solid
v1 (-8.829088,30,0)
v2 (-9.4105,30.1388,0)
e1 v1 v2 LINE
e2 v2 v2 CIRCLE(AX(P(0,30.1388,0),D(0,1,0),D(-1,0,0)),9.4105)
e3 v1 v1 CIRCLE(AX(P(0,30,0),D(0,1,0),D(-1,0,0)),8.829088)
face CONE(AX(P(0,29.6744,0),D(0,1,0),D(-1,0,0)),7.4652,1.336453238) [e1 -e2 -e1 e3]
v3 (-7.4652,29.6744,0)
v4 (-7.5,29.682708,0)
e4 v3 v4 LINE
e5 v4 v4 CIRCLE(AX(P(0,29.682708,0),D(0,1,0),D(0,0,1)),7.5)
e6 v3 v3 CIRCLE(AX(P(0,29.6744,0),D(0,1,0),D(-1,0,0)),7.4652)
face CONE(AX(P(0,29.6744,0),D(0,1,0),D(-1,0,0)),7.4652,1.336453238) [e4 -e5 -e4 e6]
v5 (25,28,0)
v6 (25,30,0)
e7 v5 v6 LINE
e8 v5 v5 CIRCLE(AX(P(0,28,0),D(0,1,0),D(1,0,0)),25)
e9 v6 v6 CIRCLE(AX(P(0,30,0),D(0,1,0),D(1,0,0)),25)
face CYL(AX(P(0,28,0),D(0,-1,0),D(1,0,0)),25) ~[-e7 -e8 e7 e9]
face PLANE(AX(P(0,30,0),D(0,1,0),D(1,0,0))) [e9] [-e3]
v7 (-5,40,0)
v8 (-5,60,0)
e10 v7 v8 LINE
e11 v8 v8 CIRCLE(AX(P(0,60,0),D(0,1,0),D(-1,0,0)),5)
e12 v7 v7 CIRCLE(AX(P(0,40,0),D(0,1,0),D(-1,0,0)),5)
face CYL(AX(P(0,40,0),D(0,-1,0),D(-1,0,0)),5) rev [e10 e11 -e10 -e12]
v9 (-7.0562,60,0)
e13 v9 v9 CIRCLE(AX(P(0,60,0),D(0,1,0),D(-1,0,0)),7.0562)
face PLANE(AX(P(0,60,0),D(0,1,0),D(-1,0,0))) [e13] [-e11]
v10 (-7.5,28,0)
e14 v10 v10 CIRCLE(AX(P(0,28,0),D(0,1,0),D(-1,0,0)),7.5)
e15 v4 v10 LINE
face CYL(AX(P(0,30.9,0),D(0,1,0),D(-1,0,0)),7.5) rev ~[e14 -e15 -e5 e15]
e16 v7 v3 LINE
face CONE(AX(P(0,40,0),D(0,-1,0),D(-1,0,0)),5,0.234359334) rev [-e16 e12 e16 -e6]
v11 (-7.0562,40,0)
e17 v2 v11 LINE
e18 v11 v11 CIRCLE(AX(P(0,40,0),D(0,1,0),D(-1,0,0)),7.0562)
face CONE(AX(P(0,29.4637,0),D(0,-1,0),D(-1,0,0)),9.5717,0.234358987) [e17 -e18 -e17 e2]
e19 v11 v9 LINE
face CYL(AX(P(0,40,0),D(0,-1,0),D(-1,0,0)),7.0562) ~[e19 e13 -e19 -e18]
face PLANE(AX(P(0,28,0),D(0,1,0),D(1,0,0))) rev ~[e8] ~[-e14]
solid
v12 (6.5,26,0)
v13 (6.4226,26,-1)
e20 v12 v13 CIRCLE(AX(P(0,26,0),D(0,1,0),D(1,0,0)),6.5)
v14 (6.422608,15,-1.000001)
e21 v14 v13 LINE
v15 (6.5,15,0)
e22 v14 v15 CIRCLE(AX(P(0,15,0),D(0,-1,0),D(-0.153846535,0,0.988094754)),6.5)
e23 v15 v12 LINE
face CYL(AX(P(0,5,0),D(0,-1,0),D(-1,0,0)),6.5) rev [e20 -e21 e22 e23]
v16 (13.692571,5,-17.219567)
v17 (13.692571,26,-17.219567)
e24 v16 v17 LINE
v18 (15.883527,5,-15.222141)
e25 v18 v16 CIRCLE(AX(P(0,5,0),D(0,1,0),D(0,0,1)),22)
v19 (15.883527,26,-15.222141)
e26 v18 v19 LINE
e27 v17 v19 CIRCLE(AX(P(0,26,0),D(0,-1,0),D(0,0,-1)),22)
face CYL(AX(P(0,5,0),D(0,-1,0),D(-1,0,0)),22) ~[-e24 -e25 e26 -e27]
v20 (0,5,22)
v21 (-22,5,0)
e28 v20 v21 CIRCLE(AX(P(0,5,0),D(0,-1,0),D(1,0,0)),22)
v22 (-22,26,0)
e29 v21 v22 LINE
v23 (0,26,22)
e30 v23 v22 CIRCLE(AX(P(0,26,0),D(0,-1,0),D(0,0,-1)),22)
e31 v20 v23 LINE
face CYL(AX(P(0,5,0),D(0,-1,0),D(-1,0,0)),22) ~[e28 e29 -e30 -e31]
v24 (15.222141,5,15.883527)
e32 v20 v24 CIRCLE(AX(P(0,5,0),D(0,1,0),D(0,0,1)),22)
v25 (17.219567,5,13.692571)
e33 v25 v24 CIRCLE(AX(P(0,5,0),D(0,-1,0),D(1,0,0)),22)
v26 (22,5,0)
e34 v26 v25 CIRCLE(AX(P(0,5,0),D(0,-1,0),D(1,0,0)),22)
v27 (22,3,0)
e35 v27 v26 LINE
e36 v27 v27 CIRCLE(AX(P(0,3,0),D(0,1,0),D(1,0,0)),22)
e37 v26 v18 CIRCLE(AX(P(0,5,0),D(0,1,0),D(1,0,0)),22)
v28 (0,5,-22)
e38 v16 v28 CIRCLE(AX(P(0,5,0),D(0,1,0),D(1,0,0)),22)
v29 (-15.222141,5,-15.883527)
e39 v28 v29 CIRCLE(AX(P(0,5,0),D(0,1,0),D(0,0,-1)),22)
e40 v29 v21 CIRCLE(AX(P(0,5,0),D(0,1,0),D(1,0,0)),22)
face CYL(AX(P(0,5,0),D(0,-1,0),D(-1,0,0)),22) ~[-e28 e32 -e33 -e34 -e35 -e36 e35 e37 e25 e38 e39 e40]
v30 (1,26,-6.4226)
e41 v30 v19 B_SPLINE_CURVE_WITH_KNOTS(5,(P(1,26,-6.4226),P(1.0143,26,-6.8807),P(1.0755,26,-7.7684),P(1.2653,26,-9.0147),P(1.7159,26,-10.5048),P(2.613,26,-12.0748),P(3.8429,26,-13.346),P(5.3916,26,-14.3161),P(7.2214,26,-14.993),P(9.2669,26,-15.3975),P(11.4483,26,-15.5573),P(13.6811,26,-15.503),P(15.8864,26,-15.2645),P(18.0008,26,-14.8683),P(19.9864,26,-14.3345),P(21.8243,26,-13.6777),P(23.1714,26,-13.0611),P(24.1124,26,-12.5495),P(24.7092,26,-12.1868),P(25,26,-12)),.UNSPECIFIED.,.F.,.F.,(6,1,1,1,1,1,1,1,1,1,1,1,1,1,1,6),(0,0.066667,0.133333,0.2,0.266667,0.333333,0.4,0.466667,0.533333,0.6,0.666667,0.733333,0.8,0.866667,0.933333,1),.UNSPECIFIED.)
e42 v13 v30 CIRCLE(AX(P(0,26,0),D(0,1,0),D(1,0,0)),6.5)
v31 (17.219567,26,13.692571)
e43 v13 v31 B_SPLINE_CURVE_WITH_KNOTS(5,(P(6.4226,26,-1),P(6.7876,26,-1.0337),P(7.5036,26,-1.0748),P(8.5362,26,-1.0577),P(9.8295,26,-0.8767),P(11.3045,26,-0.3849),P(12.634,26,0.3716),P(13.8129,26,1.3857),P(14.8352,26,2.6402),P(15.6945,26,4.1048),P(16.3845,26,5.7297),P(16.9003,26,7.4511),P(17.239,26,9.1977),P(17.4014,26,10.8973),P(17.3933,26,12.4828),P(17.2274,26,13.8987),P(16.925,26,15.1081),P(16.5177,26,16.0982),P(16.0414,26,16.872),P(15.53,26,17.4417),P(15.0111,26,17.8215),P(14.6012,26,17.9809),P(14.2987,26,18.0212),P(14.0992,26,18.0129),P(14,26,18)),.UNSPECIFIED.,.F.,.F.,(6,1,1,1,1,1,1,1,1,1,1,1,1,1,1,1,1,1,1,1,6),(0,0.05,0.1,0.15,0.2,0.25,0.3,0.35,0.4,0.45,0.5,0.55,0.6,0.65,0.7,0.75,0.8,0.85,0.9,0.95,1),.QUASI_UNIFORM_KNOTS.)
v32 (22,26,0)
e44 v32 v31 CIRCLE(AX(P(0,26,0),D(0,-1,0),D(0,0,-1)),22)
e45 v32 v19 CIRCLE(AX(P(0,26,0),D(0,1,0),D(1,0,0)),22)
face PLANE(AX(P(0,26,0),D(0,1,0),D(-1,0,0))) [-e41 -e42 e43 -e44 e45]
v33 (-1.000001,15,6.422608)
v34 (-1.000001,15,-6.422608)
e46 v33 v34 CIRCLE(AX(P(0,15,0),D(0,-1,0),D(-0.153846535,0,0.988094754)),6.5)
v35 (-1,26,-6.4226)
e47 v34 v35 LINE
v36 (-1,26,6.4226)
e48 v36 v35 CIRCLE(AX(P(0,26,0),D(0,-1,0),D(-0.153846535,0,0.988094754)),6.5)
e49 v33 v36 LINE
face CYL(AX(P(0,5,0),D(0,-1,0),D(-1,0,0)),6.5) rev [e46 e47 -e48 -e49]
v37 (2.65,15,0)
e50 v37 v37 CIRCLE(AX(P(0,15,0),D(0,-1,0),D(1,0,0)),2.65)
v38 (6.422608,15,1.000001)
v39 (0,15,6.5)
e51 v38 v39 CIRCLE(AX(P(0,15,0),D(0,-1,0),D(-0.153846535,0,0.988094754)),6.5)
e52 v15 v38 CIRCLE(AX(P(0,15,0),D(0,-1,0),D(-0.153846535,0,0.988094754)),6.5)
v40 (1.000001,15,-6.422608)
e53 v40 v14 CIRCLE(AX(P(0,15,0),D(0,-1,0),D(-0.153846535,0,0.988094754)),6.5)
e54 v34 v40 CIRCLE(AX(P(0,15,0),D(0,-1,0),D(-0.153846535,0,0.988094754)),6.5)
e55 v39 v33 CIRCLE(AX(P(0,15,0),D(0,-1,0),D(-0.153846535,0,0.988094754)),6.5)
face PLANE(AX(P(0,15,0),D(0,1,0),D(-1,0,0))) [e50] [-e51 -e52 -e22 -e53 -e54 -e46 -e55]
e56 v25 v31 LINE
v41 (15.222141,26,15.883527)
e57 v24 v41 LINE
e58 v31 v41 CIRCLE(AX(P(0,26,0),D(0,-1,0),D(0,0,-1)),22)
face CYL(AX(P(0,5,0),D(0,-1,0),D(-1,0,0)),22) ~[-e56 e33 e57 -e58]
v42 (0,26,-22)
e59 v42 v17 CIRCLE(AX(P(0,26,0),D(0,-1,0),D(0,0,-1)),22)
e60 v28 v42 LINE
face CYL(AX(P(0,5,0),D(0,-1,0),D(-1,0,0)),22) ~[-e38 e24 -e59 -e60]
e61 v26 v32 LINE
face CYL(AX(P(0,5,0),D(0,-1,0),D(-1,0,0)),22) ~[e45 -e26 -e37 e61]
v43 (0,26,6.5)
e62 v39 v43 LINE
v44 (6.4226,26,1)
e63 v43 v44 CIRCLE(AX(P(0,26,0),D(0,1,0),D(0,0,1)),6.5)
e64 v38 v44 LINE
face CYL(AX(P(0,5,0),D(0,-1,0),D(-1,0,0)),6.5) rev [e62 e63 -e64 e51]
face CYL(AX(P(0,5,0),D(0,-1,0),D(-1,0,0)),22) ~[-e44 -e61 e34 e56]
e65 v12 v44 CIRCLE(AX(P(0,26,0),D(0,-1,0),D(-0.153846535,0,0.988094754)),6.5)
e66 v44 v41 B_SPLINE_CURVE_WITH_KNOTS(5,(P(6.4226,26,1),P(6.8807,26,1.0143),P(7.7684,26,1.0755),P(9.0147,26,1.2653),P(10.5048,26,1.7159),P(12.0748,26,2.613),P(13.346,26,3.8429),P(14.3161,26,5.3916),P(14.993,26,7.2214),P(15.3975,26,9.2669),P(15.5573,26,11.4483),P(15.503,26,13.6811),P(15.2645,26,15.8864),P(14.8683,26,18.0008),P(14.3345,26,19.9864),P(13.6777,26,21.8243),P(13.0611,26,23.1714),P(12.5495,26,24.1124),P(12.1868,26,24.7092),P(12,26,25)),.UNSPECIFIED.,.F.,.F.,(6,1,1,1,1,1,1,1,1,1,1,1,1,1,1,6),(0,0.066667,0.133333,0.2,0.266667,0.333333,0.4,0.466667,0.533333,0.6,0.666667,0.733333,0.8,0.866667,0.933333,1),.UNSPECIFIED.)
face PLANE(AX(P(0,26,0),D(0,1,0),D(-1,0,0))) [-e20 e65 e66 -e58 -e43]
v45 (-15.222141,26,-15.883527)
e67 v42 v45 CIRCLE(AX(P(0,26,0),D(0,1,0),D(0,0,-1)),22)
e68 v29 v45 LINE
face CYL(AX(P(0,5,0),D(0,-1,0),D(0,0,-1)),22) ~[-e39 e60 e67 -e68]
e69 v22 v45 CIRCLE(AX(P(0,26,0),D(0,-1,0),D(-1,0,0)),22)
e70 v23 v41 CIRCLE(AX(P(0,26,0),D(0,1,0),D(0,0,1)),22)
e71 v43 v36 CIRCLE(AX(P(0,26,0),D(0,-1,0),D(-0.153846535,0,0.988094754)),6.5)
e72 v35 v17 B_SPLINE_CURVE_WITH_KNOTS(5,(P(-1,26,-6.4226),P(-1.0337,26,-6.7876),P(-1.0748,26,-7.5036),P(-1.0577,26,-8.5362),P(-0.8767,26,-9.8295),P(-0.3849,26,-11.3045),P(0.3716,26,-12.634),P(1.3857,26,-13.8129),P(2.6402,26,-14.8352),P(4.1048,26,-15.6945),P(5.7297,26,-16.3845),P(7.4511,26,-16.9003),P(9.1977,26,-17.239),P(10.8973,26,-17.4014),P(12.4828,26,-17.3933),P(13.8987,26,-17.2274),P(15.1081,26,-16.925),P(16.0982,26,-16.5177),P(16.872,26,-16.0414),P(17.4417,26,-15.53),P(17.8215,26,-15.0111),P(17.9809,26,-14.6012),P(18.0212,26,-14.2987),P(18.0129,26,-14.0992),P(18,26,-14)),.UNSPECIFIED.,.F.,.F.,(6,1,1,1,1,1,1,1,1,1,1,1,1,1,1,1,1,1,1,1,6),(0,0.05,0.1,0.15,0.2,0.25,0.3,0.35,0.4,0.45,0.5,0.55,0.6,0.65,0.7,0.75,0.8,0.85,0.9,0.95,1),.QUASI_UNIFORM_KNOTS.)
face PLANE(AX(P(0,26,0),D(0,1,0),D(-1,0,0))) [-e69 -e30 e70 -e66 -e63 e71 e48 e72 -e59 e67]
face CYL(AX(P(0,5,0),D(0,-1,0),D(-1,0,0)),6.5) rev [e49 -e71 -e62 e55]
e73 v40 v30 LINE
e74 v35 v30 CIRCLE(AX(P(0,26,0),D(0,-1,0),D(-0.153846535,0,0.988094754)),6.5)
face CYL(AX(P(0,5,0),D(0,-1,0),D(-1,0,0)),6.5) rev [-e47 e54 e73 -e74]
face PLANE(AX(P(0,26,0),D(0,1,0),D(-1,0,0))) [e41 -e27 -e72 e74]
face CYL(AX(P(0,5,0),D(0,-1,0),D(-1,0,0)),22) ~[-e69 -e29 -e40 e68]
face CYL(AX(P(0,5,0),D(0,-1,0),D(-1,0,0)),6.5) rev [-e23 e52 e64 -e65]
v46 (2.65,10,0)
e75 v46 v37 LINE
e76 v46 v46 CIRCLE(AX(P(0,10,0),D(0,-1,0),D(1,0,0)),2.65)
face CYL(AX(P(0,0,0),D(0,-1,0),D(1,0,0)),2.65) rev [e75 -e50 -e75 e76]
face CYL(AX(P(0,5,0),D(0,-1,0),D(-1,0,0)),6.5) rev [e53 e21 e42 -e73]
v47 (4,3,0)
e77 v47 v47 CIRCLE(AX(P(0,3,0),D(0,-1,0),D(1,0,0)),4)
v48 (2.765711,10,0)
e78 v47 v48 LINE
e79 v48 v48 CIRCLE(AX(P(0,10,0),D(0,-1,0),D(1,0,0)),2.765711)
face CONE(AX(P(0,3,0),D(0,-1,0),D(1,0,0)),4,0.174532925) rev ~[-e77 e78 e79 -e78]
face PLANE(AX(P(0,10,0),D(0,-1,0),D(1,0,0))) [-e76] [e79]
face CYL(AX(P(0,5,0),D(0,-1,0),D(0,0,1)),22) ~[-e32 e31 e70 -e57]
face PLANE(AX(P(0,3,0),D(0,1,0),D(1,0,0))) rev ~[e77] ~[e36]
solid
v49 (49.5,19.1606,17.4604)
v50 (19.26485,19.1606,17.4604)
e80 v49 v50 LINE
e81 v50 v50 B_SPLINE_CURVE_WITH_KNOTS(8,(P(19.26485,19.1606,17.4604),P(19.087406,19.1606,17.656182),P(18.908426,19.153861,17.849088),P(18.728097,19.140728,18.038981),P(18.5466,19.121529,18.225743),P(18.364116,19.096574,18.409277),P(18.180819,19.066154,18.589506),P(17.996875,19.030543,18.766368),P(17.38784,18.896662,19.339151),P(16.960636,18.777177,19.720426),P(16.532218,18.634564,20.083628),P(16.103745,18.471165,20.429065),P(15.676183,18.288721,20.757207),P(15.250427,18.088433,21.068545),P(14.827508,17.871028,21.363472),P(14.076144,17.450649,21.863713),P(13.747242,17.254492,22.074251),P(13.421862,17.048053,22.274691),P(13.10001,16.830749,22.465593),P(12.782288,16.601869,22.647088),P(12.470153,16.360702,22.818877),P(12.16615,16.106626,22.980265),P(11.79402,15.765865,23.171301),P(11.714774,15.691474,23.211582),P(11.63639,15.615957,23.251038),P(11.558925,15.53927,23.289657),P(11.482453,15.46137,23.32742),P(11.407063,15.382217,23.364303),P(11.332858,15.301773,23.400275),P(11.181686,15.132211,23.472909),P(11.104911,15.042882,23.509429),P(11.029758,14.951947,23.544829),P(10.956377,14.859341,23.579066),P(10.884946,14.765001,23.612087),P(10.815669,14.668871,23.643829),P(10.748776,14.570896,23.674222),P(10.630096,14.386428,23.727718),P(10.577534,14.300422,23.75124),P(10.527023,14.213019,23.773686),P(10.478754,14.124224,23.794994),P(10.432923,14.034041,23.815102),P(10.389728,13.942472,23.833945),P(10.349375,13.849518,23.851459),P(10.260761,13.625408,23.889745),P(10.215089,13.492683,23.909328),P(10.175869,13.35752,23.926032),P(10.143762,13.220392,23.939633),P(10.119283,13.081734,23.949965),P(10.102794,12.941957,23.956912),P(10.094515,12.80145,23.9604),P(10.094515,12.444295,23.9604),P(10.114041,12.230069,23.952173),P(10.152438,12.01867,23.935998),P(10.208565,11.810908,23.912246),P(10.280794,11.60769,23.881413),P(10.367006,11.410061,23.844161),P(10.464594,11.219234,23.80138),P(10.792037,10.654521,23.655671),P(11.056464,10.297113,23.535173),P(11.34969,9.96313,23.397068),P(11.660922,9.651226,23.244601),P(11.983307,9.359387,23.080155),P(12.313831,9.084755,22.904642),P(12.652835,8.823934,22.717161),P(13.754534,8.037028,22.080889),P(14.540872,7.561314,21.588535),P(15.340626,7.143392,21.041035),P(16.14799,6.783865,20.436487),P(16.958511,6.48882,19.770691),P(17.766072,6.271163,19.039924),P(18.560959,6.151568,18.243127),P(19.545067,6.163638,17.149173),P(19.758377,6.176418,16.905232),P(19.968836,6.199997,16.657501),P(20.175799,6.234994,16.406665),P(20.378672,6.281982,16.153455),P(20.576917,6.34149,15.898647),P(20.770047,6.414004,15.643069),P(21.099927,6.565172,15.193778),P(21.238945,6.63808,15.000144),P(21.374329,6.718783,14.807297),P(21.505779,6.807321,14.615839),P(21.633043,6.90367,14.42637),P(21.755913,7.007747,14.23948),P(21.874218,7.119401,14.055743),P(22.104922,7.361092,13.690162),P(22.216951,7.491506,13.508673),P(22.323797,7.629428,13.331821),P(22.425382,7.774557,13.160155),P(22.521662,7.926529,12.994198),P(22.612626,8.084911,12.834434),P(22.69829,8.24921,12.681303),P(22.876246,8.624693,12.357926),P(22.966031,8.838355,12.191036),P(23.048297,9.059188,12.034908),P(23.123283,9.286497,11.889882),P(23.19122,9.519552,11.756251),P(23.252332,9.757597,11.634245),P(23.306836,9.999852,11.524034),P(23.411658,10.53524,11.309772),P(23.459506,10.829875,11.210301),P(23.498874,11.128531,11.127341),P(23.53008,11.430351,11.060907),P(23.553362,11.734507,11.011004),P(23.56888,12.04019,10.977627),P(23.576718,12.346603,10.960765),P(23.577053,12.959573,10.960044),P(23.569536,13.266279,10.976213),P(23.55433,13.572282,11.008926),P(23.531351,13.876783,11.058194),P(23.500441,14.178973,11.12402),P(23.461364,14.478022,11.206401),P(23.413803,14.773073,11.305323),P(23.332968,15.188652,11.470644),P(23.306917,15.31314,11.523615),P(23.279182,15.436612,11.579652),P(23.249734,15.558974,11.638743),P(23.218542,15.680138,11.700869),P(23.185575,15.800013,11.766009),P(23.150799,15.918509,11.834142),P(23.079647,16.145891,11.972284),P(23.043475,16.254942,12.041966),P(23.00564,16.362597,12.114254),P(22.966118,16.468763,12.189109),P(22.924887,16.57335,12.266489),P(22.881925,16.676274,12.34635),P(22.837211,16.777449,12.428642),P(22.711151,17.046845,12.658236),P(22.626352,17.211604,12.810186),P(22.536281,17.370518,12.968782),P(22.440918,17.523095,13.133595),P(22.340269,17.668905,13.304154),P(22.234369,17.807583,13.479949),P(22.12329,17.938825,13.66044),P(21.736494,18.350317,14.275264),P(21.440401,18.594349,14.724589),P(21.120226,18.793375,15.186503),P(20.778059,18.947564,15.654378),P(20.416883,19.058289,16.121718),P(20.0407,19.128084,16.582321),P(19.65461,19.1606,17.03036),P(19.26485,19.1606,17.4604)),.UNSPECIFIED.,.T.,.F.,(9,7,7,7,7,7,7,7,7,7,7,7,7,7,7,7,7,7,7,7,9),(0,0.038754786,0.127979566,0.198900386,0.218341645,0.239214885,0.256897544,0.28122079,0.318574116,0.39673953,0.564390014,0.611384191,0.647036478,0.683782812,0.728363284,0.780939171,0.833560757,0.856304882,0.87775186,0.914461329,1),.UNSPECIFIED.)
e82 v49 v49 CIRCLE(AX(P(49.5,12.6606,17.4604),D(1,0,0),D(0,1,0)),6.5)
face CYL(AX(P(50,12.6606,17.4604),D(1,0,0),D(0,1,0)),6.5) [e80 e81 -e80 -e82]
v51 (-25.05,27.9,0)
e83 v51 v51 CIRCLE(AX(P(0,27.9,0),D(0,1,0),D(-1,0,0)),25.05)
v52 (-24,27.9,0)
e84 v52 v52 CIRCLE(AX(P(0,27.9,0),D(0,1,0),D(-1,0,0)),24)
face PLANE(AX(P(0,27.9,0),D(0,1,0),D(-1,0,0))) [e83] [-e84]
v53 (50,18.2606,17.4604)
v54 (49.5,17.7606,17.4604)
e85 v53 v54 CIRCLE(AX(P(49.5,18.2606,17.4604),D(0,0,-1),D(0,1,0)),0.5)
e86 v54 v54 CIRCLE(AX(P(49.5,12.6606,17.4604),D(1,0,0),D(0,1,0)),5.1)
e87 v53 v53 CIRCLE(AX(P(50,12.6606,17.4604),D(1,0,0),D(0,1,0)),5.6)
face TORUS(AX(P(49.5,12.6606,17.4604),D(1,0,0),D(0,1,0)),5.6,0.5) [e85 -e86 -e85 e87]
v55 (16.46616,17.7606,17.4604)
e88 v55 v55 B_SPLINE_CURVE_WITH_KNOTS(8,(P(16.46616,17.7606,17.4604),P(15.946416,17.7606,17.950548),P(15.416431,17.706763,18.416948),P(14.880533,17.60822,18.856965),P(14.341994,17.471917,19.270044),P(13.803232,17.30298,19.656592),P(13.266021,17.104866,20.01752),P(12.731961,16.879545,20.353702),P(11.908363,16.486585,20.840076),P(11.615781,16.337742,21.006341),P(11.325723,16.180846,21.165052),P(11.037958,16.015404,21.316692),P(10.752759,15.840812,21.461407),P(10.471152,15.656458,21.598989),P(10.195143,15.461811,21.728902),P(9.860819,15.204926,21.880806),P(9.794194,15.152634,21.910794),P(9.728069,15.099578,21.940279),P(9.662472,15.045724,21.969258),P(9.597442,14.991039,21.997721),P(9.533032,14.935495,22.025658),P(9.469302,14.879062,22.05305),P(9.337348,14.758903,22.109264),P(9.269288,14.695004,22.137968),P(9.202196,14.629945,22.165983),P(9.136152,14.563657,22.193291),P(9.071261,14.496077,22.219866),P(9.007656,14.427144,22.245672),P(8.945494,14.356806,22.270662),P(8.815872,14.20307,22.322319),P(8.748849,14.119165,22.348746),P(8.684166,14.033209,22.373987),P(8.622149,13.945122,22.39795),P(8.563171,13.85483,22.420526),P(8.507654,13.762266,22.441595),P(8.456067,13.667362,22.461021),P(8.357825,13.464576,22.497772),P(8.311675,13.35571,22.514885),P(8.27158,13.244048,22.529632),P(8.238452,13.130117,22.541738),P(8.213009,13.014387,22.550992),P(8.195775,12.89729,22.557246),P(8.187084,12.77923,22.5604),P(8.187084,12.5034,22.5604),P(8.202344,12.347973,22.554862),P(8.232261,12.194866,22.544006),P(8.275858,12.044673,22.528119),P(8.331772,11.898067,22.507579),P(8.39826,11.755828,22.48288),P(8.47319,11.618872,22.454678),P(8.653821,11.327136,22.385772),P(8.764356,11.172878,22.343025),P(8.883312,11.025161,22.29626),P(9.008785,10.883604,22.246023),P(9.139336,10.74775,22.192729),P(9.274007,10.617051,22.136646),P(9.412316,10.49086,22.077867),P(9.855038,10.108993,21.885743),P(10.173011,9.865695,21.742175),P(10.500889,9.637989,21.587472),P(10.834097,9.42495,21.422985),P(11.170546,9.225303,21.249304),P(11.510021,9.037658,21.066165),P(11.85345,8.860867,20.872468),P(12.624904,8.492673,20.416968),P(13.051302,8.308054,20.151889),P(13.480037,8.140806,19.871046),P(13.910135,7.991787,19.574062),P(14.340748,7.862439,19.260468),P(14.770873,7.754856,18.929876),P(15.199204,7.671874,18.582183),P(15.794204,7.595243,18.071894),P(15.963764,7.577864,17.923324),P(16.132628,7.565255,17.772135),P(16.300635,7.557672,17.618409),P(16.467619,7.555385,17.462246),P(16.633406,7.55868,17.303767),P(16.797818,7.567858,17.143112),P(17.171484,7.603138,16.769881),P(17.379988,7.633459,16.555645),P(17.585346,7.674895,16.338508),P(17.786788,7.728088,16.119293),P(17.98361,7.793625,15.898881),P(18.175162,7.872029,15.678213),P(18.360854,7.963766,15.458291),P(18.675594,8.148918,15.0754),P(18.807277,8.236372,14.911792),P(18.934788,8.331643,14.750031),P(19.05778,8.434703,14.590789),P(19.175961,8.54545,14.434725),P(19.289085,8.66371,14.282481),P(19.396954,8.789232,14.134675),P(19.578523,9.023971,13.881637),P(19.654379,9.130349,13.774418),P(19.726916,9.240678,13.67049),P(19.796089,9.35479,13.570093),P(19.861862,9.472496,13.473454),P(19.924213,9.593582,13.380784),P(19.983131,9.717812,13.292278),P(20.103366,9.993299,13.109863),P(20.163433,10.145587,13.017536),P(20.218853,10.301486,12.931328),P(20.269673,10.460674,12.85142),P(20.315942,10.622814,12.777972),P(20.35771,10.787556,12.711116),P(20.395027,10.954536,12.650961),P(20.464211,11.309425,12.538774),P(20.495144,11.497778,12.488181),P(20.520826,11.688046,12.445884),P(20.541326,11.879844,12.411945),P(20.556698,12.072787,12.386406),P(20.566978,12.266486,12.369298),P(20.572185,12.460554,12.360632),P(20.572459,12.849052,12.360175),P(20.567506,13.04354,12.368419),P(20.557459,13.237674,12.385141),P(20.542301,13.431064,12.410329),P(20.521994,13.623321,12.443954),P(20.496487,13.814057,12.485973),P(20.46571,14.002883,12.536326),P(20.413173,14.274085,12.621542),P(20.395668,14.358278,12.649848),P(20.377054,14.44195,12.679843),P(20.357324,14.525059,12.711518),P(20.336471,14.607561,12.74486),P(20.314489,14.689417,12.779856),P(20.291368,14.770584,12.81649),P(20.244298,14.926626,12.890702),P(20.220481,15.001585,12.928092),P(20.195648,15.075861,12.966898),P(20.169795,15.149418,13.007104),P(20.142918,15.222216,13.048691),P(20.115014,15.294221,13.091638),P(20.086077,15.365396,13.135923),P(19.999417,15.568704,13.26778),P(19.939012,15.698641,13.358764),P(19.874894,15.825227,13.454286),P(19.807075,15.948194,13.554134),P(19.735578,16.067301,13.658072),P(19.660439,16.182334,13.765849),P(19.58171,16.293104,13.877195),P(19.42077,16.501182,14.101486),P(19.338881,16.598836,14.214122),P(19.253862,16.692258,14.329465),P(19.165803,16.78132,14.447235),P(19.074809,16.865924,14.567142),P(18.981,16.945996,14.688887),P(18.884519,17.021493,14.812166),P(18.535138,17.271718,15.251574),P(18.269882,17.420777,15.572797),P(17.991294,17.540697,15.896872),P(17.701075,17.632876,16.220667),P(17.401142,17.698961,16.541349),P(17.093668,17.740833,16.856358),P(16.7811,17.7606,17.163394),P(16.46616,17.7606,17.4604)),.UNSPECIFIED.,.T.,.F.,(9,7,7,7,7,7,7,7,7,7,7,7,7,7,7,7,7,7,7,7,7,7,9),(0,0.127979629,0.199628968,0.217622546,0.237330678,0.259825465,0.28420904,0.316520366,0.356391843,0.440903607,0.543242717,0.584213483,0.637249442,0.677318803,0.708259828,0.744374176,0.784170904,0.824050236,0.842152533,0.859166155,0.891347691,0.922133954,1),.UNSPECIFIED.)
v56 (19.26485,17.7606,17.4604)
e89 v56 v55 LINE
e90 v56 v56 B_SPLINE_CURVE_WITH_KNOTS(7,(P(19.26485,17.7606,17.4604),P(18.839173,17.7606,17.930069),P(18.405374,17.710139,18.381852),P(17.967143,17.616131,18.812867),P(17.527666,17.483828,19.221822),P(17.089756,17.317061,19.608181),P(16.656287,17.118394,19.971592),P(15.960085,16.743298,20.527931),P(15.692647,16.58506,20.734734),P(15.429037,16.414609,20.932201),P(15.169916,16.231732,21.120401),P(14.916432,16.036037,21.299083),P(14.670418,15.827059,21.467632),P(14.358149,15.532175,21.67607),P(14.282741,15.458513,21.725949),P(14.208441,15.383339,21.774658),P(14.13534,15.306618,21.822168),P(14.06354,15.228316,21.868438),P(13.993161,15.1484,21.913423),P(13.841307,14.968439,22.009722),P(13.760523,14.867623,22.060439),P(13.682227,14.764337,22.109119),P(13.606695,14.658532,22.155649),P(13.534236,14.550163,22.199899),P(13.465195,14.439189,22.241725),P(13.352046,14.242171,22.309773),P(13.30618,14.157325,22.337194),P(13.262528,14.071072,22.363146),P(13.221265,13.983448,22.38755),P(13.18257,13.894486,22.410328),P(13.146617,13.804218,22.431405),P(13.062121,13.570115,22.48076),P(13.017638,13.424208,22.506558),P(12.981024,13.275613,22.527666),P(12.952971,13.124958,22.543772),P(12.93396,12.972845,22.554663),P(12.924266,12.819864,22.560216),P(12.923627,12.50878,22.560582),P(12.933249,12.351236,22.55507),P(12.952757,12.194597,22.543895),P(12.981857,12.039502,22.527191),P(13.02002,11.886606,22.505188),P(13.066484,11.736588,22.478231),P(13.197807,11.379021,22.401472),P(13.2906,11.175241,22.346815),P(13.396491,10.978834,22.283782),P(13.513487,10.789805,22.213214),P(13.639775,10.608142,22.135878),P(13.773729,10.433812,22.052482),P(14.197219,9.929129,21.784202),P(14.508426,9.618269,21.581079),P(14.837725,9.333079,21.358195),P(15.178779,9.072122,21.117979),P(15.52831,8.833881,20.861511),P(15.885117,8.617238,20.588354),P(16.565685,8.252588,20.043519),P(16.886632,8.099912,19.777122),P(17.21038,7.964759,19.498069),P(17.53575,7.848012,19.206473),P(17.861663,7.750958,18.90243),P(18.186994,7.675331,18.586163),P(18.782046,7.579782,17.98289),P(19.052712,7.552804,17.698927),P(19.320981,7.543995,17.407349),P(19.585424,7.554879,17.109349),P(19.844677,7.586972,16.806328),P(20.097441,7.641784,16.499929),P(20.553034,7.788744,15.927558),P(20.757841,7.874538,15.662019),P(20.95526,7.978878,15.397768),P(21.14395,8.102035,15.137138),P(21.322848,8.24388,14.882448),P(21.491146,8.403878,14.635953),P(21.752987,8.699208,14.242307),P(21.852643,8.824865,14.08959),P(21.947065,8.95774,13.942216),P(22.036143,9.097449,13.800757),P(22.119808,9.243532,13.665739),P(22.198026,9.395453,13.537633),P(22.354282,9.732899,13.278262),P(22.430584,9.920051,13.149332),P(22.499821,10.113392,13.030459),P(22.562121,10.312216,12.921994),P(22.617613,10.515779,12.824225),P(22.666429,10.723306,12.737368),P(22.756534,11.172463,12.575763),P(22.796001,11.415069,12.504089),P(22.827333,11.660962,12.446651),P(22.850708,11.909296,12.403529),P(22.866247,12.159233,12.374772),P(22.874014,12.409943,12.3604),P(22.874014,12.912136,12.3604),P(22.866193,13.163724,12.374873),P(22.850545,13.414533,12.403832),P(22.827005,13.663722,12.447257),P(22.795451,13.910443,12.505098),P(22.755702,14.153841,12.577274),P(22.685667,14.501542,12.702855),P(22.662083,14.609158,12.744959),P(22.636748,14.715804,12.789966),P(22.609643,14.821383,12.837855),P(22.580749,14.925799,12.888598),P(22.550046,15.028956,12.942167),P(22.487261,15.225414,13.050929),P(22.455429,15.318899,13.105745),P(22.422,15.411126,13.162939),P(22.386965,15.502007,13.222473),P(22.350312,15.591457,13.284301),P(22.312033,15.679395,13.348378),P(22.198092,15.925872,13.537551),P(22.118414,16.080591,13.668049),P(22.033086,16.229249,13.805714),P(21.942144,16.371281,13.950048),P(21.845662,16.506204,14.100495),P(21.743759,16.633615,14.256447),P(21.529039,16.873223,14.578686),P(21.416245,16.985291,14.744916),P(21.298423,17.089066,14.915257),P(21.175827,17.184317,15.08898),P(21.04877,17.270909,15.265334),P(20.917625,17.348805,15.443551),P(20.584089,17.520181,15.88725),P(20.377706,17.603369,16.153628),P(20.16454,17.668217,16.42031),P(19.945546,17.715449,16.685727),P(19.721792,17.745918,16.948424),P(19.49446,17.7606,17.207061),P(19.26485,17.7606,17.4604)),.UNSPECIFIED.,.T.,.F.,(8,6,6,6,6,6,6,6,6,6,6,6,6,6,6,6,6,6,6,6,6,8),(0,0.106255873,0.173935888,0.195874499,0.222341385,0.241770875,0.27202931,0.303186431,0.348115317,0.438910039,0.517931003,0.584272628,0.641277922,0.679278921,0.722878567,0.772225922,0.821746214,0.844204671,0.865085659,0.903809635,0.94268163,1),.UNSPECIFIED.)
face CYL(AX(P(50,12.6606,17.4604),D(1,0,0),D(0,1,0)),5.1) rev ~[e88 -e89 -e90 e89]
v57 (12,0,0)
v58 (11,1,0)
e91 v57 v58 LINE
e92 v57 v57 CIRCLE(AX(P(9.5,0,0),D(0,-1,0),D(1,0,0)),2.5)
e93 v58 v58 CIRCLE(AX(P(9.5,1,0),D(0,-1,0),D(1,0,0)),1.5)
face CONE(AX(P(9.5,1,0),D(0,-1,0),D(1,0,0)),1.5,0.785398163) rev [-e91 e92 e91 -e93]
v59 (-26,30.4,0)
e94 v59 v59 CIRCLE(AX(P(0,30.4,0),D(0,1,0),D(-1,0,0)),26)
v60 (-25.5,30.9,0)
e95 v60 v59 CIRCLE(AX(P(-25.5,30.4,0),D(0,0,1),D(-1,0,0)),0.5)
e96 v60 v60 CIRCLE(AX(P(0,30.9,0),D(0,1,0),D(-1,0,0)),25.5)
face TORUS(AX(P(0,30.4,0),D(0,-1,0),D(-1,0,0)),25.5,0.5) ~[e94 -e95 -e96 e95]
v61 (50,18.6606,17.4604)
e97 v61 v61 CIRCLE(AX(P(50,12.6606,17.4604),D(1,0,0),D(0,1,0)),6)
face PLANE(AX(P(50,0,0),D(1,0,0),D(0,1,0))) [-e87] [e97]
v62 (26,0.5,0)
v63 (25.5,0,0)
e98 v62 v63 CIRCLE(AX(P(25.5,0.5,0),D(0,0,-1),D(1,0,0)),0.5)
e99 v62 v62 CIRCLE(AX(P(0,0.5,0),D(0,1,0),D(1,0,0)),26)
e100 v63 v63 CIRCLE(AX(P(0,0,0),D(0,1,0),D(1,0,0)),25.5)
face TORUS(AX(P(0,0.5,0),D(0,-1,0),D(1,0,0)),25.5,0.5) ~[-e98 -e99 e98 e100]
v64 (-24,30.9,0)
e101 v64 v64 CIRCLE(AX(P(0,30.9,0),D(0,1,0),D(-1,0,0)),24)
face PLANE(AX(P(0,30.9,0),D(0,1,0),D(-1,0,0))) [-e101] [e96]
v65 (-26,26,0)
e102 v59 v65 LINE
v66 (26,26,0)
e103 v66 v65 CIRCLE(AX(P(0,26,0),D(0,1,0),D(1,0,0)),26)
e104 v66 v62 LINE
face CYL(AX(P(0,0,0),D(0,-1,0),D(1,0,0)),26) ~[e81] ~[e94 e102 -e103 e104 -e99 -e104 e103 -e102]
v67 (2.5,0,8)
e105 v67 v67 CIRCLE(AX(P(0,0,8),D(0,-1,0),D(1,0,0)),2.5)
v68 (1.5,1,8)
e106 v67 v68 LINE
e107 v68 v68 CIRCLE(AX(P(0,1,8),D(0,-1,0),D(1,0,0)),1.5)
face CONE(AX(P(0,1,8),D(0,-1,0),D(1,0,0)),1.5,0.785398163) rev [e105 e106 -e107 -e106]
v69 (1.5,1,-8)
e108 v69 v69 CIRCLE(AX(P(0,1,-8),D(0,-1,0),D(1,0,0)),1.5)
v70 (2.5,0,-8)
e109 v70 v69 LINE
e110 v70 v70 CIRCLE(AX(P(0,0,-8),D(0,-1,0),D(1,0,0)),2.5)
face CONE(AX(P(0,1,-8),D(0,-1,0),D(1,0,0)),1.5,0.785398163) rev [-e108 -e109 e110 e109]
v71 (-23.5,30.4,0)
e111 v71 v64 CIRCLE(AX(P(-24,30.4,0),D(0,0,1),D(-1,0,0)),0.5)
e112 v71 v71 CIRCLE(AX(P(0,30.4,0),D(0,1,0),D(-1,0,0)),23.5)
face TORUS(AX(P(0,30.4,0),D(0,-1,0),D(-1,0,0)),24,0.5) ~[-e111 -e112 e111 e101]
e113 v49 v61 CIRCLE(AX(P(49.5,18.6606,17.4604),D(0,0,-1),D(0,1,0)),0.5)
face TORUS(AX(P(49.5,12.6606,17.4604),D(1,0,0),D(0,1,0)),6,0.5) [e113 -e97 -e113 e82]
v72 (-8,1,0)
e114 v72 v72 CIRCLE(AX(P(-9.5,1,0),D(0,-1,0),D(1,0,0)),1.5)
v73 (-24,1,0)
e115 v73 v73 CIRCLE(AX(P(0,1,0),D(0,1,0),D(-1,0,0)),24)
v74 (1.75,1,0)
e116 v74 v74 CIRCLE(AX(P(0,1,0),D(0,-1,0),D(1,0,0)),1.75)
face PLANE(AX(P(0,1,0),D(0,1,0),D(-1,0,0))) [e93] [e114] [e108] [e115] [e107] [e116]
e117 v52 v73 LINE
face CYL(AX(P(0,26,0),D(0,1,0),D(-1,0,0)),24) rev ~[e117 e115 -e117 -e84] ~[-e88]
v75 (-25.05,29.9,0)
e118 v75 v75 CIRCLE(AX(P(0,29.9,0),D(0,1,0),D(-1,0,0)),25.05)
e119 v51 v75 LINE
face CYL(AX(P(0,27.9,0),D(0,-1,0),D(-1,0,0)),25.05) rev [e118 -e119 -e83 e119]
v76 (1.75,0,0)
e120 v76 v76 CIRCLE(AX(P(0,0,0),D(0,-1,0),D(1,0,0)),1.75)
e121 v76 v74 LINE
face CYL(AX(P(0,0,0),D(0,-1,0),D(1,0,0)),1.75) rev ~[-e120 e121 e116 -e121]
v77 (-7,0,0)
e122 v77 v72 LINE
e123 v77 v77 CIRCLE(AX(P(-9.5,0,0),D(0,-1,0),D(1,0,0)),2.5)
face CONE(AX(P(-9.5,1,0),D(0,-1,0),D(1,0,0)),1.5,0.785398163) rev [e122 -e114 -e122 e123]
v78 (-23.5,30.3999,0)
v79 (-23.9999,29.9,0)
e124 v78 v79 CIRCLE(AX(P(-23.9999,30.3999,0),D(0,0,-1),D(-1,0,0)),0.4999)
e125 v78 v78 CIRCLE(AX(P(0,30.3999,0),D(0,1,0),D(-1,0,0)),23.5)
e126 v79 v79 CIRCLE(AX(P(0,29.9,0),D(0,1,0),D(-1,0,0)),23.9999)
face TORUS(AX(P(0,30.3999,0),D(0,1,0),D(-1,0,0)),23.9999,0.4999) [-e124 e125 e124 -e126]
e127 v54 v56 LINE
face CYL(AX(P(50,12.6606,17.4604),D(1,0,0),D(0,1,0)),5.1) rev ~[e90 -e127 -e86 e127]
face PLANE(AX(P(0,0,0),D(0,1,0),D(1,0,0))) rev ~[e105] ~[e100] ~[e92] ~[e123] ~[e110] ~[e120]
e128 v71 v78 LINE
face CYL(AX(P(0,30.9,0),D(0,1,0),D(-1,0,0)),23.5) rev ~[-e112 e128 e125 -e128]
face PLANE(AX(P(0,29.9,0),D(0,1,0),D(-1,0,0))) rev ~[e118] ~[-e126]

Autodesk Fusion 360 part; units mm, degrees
sketch "Sketch1" plane through (0, 0, 0) normal (0, 1, 0) x (1, 0, 0) in component "P1"
  circle A0 centre (0, 0) radius 26
  dimension "d1" = 52
extrude "Extrude1" add sketch "Sketch1" along normal blind 2 makes body 1 in component "P1"
sketch "Sketch2" plane through (0, 0, 0) normal (0, -1, 0) x (1, 0, 0) in component "P1"
  circle A0 centre (0, 0) radius 26
  line L0 (0, 0) -> (9.5, 0) construction
  line L1 (0, 0) -> (0, 8) construction
  circle A1 centre (0, 8) radius 1.5
  circle A2 centre (9.5, 0) radius 1.5
  circle A3 centre (0, -8) radius 1.5
  circle A4 centre (-9.5, 0) radius 1.5
  dimension "d4" = 9.5
  dimension "d5" = 8
  dimension "d6" = 3
  dimension "d7" = 3
extrude "Extrude2" cut sketch "Sketch2" against normal blind 15 contours A1 | A2 | A3 | A4 bodies 1 in component "P1"
chamfer "Chamfer1" distance 1 angle 45 4 edges at (-10.8985, 0, 0.5424) (-1.3985, 0, -7.4576) (8.1015, 0, 0.5424) (-1.3985, 0, 8.5424) on bodies 1 in component "P1"
sketch "Sketch3" plane through (0, 0, 0) normal (0, 1, 0) x (1, 0, 0) in component "P1"
  circle A0 centre (0, 0) radius 26
  circle A1 centre (0, 0) radius 24
  dimension "d11" = 52
  dimension "d12" = 48
extrude "Extrude3" add sketch "Sketch3" along normal blind 26 bodies 1 in component "P1"
ref_plane "WorkPlane1" through (50, 0, 0) normal (1, 0, 0) x (0, 1, 0) in component "P1"
sketch "Sketch4" plane through (50, 0, 0) normal (1, 0, 0) x (0, 1, 0) in component "P1"
  circle A0 centre (12.6606, 17.4604) radius 6.5
  circle A1 centre (12.6606, 17.4604) radius 5.1
  dimension "d16" = 13
  dimension "d17" = 10.2
extrude "Extrude4" add sketch "Sketch4" against normal blind 50 bodies 1 in component "P1"
sketch "Sketch5" plane through (0, 26, 0) normal (0, 1, 0) x (-1, 0, 0) in component "P1"
  circle A0 centre (0, 0) radius 24
  circle A1 centre (0, 0) radius 26
  circle A2 centre (0, 0) radius 24
  dimension "d20" = 48
extrude "Extrude5" cut sketch "Sketch5" against normal blind 25 contours A0 A2 bodies 1 in component "P1"
sketch "Sketch6" plane through (50, 0, 0) normal (1, 0, 0) x (0, 1, 0) in component "P1"
  circle A0 centre (12.6606, 17.4604) radius 5.1
  circle A1 centre (12.6606, 17.4604) radius 6.5
  circle A2 centre (12.6606, 17.4604) radius 5.1
  dimension "d23" = 10.2
extrude "Extrude6" cut sketch "Sketch6" against normal blind 50 contours A0 A2 bodies 1 in component "P1"
sketch "Sketch7" plane through (0, 0, 0) normal (0, -1, 0) x (1, 0, 0) in component "P1"
  circle A0 centre (0, 0) radius 26
  circle A1 centre (9.5, 0) radius 2.5
  circle A2 centre (-9.5, 0) radius 2.5
  circle A3 centre (0, -8) radius 2.5
  circle A4 centre (0, 8) radius 2.5
  circle A5 centre (0, 0) radius 1.75
  dimension "d26" = 3.5
extrude "Extrude7" cut sketch "Sketch7" against normal blind 5 contours A5 bodies 1 in component "P1"
sketch "Sketch8" plane through (0, 1, 0) normal (0, 1, 0) x (-1, 0, 0) in component "P1"
  circle A0 centre (0, 0) radius 1.75
  circle A1 centre (0, 8) radius 1.5
  circle A2 centre (-9.5, 0) radius 1.5
  circle A3 centre (0, -8) radius 1.5
  circle A4 centre (9.5, 0) radius 1.5
  circle A5 centre (0, 0) radius 24
ref_plane "WorkPlane2" through (0, 3, 0) normal (0, 1, 0) x (-1, 0, 0) in component "P1"
sketch "Sketch9" plane through (0, 3, 0) normal (0, 1, 0) x (1, 0, 0) in component "P1"
  circle A0 centre (0, 0) radius 22
  dimension "d30" = 44
extrude "Extrude8" add sketch "Sketch9" along normal blind 2 separate body makes body 2 in component "P1"
sketch "Sketch10" plane through (0, 5, 0) normal (0, 1, 0) x (-1, 0, 0) in component "P1"
  circle A0 centre (0, 0) radius 22
  line L0 (0, 0) -> (0, 22) construction
  line L1 (-1, 0) -> (-1, 20) construction
  line L2 (1, 0) -> (1, 20) construction
  circle A1 centre (0, 0) radius 6.5
  spline S0 degree 5 poles (1, 6.4226) (1.0143, 6.8807) (1.0755, 7.7684) (1.2653, 9.0147) (1.7159, 10.5048) (2.613, 12.0748) (3.8429, 13.346) (5.3916, 14.3161) (7.2214, 14.993) (9.2669, 15.3975) (11.4483, 15.5573) (13.6811, 15.503) (15.8864, 15.2645) (18.0008, 14.8683) (19.9864, 14.3345) (21.8243, 13.6777) (23.1714, 13.0611) (24.1124, 12.5495) (24.7092, 12.1868) (25, 12) knots 0 0 0 0 0 0 0.066667 0.133333 0.2 0.266667 0.333333 0.4 0.466667 0.533333 0.6 0.666667 0.733333 0.8 0.866667 0.933333 1 1 1 1 1 1
  spline S1 degree 5 poles (-1, 6.4226) (-1.0337, 6.7876) (-1.0748, 7.5036) (-1.0577, 8.5362) (-0.8767, 9.8295) (-0.3849, 11.3045) (0.3716, 12.634) (1.3857, 13.8129) (2.6402, 14.8352) (4.1048, 15.6945) (5.7297, 16.3845) (7.4511, 16.9003) (9.1977, 17.239) (10.8973, 17.4014) (12.4828, 17.3933) (13.8987, 17.2274) (15.1081, 16.925) (16.0982, 16.5177) (16.872, 16.0414) (17.4417, 15.53) (17.8215, 15.0111) (17.9809, 14.6012) (18.0212, 14.2987) (18.0129, 14.0992) (18, 14) knots 0 0 0 0 0 0 0.05 0.1 0.15 0.2 0.25 0.3 0.35 0.4 0.45 0.5 0.55 0.6 0.65 0.7 0.75 0.8 0.85 0.9 0.95 1 1 1 1 1 1
  circle A2 centre (0, 0) radius 22
  point P0 (5, 14)
  point P1 (15.8835, 15.2222)
  point P2 (3, 15)
  point P3 (13.6926, 17.2195)
  point P4 (17.4653, 15.4488)
  dimension "d37" = 1
  dimension "d38" = 1
  dimension "d39" = 13
extrude "Extrude9" add sketch "Sketch10" along normal blind 10 contours A1 bodies 2 in component "P1"
extrude "Extrude10" add sketch "Sketch10" along normal blind 21 contours A0 A1 S0 S1 A2 picked at (12.0376, 10.6882) bodies 2 in component "P1"
pattern_circular "C-Pattern1" count 4 over 360 about axis through (0, 5, 0) along (0, -1, 0) of "Extrude10" in component "P1"
sketch "Sketch11" plane through (0, 3, 0) normal (0, -1, 0) x (1, 0, 0) in component "P1"
  circle A0 centre (0, 0) radius 22
  circle A1 centre (0, 0) radius 4
  dimension "d46" = 8
extrude "Extrude11" cut sketch "Sketch11" against normal blind 7 draft -10 contours A1 bodies 2 in component "P1"
sketch "Sketch12" plane through (0, 0, 0) normal (0, 1, 0) x (1, 0, 0) in component "P1"
  circle A0 centre (0, 0) radius 2.7657
  circle A1 centre (0, 0) radius 2.65
  dimension "d49" = 5.5314
  dimension "d50" = 5.3
extrude "Extrude12" cut sketch "Sketch12" along normal blind 33 contours A1 bodies 2 in component "P1"
ref_plane "WorkPlane3" through (0, 28, 0) normal (0, 1, 0) x (0, 0, 1) in component "P1"
sketch "Sketch13" plane through (0, 28, 0) normal (0, 1, 0) x (1, 0, 0) in component "P1"
  circle A0 centre (0, 0) radius 25
  dimension "d54" = 50
extrude "Extrude13" add sketch "Sketch13" along normal blind 2 separate body makes body 3 in component "P1"
sketch "Sketch14" plane through (0, 26, 0) normal (0, 1, 0) x (-1, 0, 0) in component "P1"
  circle A0 centre (0, 0) radius 24
  circle A1 centre (0, 0) radius 26
  circle A2 centre (0, 0) radius 24
  circle A3 centre (0, 0) radius 26
extrude "Extrude14" add sketch "Sketch14" along normal blind 1.9 bodies 1 in component "P1"
sketch "Sketch15" plane through (0, 27.9, 0) normal (0, 1, 0) x (-1, 0, 0) in component "P1"
  circle A0 centre (0, 0) radius 24
  circle A1 centre (0, 0) radius 26
  circle A2 centre (0, 0) radius 26
  circle A3 centre (0, 0) radius 25.05
  dimension "d59" = 50.1
extrude "Extrude15" add sketch "Sketch15" along normal blind 3 contours A1 A2 bodies 1 in component "P1"
sketch "Sketch16" plane through (0, 30.9, 0) normal (0, 1, 0) x (-1, 0, 0) in component "P1"
  circle A0 centre (0, 0) radius 25.05
  circle A1 centre (0, 0) radius 26
sketch "Sketch17" plane through (0, 30.9, 0) normal (0, 1, 0) x (-1, 0, 0) in component "P1"
  circle A0 centre (0, 0) radius 25.05
  circle A1 centre (0, 0) radius 23.5
  dimension "d62" = 50.1
  dimension "d63" = 47
extrude "Extrude16" add sketch "Sketch17" against normal blind 1 bodies 1 in component "P1"
fillet "Fillet1" radius 0.5 1 edges at (21.9097, 30.9, 8.498) on bodies 1 in component "P1"
fillet "Fillet2" radius 0.5 1 edges at (21.9097, 29.9, -8.498) on bodies 1 in component "P1"
fillet "Fillet3" radius 0.5 1 edges at (24.2405, 30.9, -9.402) on bodies 1 in component "P1"
fillet "Fillet4" radius 0.5 1 edges at (-24.2405, 0, 9.402) on bodies 1 in component "P1"
fillet "Fillet5" radius 0.5 1 edges at (50, 6.6004, 15.1099) on bodies 1 in component "P1"
fillet "Fillet6" radius 0.5 1 edges at (50, 7.9057, 19.3047) on bodies 1 in component "P1"
sketch "Sketch18" plane through (0, 30.9, 0) normal (0, 1, 0) x (-1, 0, 0) in component "P1"
  circle A0 centre (0, 0) radius 7.5
  circle A1 centre (0, 0) radius 9
  dimension "d78" = 15
  dimension "d79" = 18
extrude "Extrude17" cut sketch "Sketch18" against normal blind 3.1 contours A0 bodies 3 in component "P1"
sketch "Sketch19" plane through (0, 0, 0) normal (0, 0, 1) x (1, 0, 0) in component "P1"
  line L0 (0, 30) -> (0, 40) construction
  line L1 (0, 40) -> (-5, 40)
  line L2 (-5, 40) -> (-7.4652, 29.6744)
  line L3 (-9.5717, 29.4637) -> (-7.0562, 40)
  line L4 (-7.0562, 40) -> (-5, 40)
  line L5 (-9.5717, 29.4637) -> (-7.4652, 29.6744)
  line L6 (-7.4652, 29.6744) -> (-9.4105, 30.1388)
  dimension "d82" = 10
  dimension "d83" = 5
  dimension "d84" = 2
  dimension "d85" = 2
revolve "Revolve1" add sketch "Sketch19" angle 360 about axis through (0, 30, 0) along (0, 1, 0) contours L2 L3 L4 L6 bodies 3 in component "P1"
sketch "Sketch20" plane through (0, 40, 0) normal (0, 1, 0) x (-1, 0, 0) in component "P1"
  circle A0 centre (0, 0) radius 7.0562
  circle A1 centre (0, 0) radius 5
  circle A2 centre (0, 0) radius 7.0562
  circle A3 centre (0, 0) radius 5
extrude "Extrude18" add sketch "Sketch20" along normal blind 20 bodies 3 in component "P1"
component "P1" placed x (1, 0, 0) y (0, 1, 0) z (0, 0, 1) at (0, 0, 0)
